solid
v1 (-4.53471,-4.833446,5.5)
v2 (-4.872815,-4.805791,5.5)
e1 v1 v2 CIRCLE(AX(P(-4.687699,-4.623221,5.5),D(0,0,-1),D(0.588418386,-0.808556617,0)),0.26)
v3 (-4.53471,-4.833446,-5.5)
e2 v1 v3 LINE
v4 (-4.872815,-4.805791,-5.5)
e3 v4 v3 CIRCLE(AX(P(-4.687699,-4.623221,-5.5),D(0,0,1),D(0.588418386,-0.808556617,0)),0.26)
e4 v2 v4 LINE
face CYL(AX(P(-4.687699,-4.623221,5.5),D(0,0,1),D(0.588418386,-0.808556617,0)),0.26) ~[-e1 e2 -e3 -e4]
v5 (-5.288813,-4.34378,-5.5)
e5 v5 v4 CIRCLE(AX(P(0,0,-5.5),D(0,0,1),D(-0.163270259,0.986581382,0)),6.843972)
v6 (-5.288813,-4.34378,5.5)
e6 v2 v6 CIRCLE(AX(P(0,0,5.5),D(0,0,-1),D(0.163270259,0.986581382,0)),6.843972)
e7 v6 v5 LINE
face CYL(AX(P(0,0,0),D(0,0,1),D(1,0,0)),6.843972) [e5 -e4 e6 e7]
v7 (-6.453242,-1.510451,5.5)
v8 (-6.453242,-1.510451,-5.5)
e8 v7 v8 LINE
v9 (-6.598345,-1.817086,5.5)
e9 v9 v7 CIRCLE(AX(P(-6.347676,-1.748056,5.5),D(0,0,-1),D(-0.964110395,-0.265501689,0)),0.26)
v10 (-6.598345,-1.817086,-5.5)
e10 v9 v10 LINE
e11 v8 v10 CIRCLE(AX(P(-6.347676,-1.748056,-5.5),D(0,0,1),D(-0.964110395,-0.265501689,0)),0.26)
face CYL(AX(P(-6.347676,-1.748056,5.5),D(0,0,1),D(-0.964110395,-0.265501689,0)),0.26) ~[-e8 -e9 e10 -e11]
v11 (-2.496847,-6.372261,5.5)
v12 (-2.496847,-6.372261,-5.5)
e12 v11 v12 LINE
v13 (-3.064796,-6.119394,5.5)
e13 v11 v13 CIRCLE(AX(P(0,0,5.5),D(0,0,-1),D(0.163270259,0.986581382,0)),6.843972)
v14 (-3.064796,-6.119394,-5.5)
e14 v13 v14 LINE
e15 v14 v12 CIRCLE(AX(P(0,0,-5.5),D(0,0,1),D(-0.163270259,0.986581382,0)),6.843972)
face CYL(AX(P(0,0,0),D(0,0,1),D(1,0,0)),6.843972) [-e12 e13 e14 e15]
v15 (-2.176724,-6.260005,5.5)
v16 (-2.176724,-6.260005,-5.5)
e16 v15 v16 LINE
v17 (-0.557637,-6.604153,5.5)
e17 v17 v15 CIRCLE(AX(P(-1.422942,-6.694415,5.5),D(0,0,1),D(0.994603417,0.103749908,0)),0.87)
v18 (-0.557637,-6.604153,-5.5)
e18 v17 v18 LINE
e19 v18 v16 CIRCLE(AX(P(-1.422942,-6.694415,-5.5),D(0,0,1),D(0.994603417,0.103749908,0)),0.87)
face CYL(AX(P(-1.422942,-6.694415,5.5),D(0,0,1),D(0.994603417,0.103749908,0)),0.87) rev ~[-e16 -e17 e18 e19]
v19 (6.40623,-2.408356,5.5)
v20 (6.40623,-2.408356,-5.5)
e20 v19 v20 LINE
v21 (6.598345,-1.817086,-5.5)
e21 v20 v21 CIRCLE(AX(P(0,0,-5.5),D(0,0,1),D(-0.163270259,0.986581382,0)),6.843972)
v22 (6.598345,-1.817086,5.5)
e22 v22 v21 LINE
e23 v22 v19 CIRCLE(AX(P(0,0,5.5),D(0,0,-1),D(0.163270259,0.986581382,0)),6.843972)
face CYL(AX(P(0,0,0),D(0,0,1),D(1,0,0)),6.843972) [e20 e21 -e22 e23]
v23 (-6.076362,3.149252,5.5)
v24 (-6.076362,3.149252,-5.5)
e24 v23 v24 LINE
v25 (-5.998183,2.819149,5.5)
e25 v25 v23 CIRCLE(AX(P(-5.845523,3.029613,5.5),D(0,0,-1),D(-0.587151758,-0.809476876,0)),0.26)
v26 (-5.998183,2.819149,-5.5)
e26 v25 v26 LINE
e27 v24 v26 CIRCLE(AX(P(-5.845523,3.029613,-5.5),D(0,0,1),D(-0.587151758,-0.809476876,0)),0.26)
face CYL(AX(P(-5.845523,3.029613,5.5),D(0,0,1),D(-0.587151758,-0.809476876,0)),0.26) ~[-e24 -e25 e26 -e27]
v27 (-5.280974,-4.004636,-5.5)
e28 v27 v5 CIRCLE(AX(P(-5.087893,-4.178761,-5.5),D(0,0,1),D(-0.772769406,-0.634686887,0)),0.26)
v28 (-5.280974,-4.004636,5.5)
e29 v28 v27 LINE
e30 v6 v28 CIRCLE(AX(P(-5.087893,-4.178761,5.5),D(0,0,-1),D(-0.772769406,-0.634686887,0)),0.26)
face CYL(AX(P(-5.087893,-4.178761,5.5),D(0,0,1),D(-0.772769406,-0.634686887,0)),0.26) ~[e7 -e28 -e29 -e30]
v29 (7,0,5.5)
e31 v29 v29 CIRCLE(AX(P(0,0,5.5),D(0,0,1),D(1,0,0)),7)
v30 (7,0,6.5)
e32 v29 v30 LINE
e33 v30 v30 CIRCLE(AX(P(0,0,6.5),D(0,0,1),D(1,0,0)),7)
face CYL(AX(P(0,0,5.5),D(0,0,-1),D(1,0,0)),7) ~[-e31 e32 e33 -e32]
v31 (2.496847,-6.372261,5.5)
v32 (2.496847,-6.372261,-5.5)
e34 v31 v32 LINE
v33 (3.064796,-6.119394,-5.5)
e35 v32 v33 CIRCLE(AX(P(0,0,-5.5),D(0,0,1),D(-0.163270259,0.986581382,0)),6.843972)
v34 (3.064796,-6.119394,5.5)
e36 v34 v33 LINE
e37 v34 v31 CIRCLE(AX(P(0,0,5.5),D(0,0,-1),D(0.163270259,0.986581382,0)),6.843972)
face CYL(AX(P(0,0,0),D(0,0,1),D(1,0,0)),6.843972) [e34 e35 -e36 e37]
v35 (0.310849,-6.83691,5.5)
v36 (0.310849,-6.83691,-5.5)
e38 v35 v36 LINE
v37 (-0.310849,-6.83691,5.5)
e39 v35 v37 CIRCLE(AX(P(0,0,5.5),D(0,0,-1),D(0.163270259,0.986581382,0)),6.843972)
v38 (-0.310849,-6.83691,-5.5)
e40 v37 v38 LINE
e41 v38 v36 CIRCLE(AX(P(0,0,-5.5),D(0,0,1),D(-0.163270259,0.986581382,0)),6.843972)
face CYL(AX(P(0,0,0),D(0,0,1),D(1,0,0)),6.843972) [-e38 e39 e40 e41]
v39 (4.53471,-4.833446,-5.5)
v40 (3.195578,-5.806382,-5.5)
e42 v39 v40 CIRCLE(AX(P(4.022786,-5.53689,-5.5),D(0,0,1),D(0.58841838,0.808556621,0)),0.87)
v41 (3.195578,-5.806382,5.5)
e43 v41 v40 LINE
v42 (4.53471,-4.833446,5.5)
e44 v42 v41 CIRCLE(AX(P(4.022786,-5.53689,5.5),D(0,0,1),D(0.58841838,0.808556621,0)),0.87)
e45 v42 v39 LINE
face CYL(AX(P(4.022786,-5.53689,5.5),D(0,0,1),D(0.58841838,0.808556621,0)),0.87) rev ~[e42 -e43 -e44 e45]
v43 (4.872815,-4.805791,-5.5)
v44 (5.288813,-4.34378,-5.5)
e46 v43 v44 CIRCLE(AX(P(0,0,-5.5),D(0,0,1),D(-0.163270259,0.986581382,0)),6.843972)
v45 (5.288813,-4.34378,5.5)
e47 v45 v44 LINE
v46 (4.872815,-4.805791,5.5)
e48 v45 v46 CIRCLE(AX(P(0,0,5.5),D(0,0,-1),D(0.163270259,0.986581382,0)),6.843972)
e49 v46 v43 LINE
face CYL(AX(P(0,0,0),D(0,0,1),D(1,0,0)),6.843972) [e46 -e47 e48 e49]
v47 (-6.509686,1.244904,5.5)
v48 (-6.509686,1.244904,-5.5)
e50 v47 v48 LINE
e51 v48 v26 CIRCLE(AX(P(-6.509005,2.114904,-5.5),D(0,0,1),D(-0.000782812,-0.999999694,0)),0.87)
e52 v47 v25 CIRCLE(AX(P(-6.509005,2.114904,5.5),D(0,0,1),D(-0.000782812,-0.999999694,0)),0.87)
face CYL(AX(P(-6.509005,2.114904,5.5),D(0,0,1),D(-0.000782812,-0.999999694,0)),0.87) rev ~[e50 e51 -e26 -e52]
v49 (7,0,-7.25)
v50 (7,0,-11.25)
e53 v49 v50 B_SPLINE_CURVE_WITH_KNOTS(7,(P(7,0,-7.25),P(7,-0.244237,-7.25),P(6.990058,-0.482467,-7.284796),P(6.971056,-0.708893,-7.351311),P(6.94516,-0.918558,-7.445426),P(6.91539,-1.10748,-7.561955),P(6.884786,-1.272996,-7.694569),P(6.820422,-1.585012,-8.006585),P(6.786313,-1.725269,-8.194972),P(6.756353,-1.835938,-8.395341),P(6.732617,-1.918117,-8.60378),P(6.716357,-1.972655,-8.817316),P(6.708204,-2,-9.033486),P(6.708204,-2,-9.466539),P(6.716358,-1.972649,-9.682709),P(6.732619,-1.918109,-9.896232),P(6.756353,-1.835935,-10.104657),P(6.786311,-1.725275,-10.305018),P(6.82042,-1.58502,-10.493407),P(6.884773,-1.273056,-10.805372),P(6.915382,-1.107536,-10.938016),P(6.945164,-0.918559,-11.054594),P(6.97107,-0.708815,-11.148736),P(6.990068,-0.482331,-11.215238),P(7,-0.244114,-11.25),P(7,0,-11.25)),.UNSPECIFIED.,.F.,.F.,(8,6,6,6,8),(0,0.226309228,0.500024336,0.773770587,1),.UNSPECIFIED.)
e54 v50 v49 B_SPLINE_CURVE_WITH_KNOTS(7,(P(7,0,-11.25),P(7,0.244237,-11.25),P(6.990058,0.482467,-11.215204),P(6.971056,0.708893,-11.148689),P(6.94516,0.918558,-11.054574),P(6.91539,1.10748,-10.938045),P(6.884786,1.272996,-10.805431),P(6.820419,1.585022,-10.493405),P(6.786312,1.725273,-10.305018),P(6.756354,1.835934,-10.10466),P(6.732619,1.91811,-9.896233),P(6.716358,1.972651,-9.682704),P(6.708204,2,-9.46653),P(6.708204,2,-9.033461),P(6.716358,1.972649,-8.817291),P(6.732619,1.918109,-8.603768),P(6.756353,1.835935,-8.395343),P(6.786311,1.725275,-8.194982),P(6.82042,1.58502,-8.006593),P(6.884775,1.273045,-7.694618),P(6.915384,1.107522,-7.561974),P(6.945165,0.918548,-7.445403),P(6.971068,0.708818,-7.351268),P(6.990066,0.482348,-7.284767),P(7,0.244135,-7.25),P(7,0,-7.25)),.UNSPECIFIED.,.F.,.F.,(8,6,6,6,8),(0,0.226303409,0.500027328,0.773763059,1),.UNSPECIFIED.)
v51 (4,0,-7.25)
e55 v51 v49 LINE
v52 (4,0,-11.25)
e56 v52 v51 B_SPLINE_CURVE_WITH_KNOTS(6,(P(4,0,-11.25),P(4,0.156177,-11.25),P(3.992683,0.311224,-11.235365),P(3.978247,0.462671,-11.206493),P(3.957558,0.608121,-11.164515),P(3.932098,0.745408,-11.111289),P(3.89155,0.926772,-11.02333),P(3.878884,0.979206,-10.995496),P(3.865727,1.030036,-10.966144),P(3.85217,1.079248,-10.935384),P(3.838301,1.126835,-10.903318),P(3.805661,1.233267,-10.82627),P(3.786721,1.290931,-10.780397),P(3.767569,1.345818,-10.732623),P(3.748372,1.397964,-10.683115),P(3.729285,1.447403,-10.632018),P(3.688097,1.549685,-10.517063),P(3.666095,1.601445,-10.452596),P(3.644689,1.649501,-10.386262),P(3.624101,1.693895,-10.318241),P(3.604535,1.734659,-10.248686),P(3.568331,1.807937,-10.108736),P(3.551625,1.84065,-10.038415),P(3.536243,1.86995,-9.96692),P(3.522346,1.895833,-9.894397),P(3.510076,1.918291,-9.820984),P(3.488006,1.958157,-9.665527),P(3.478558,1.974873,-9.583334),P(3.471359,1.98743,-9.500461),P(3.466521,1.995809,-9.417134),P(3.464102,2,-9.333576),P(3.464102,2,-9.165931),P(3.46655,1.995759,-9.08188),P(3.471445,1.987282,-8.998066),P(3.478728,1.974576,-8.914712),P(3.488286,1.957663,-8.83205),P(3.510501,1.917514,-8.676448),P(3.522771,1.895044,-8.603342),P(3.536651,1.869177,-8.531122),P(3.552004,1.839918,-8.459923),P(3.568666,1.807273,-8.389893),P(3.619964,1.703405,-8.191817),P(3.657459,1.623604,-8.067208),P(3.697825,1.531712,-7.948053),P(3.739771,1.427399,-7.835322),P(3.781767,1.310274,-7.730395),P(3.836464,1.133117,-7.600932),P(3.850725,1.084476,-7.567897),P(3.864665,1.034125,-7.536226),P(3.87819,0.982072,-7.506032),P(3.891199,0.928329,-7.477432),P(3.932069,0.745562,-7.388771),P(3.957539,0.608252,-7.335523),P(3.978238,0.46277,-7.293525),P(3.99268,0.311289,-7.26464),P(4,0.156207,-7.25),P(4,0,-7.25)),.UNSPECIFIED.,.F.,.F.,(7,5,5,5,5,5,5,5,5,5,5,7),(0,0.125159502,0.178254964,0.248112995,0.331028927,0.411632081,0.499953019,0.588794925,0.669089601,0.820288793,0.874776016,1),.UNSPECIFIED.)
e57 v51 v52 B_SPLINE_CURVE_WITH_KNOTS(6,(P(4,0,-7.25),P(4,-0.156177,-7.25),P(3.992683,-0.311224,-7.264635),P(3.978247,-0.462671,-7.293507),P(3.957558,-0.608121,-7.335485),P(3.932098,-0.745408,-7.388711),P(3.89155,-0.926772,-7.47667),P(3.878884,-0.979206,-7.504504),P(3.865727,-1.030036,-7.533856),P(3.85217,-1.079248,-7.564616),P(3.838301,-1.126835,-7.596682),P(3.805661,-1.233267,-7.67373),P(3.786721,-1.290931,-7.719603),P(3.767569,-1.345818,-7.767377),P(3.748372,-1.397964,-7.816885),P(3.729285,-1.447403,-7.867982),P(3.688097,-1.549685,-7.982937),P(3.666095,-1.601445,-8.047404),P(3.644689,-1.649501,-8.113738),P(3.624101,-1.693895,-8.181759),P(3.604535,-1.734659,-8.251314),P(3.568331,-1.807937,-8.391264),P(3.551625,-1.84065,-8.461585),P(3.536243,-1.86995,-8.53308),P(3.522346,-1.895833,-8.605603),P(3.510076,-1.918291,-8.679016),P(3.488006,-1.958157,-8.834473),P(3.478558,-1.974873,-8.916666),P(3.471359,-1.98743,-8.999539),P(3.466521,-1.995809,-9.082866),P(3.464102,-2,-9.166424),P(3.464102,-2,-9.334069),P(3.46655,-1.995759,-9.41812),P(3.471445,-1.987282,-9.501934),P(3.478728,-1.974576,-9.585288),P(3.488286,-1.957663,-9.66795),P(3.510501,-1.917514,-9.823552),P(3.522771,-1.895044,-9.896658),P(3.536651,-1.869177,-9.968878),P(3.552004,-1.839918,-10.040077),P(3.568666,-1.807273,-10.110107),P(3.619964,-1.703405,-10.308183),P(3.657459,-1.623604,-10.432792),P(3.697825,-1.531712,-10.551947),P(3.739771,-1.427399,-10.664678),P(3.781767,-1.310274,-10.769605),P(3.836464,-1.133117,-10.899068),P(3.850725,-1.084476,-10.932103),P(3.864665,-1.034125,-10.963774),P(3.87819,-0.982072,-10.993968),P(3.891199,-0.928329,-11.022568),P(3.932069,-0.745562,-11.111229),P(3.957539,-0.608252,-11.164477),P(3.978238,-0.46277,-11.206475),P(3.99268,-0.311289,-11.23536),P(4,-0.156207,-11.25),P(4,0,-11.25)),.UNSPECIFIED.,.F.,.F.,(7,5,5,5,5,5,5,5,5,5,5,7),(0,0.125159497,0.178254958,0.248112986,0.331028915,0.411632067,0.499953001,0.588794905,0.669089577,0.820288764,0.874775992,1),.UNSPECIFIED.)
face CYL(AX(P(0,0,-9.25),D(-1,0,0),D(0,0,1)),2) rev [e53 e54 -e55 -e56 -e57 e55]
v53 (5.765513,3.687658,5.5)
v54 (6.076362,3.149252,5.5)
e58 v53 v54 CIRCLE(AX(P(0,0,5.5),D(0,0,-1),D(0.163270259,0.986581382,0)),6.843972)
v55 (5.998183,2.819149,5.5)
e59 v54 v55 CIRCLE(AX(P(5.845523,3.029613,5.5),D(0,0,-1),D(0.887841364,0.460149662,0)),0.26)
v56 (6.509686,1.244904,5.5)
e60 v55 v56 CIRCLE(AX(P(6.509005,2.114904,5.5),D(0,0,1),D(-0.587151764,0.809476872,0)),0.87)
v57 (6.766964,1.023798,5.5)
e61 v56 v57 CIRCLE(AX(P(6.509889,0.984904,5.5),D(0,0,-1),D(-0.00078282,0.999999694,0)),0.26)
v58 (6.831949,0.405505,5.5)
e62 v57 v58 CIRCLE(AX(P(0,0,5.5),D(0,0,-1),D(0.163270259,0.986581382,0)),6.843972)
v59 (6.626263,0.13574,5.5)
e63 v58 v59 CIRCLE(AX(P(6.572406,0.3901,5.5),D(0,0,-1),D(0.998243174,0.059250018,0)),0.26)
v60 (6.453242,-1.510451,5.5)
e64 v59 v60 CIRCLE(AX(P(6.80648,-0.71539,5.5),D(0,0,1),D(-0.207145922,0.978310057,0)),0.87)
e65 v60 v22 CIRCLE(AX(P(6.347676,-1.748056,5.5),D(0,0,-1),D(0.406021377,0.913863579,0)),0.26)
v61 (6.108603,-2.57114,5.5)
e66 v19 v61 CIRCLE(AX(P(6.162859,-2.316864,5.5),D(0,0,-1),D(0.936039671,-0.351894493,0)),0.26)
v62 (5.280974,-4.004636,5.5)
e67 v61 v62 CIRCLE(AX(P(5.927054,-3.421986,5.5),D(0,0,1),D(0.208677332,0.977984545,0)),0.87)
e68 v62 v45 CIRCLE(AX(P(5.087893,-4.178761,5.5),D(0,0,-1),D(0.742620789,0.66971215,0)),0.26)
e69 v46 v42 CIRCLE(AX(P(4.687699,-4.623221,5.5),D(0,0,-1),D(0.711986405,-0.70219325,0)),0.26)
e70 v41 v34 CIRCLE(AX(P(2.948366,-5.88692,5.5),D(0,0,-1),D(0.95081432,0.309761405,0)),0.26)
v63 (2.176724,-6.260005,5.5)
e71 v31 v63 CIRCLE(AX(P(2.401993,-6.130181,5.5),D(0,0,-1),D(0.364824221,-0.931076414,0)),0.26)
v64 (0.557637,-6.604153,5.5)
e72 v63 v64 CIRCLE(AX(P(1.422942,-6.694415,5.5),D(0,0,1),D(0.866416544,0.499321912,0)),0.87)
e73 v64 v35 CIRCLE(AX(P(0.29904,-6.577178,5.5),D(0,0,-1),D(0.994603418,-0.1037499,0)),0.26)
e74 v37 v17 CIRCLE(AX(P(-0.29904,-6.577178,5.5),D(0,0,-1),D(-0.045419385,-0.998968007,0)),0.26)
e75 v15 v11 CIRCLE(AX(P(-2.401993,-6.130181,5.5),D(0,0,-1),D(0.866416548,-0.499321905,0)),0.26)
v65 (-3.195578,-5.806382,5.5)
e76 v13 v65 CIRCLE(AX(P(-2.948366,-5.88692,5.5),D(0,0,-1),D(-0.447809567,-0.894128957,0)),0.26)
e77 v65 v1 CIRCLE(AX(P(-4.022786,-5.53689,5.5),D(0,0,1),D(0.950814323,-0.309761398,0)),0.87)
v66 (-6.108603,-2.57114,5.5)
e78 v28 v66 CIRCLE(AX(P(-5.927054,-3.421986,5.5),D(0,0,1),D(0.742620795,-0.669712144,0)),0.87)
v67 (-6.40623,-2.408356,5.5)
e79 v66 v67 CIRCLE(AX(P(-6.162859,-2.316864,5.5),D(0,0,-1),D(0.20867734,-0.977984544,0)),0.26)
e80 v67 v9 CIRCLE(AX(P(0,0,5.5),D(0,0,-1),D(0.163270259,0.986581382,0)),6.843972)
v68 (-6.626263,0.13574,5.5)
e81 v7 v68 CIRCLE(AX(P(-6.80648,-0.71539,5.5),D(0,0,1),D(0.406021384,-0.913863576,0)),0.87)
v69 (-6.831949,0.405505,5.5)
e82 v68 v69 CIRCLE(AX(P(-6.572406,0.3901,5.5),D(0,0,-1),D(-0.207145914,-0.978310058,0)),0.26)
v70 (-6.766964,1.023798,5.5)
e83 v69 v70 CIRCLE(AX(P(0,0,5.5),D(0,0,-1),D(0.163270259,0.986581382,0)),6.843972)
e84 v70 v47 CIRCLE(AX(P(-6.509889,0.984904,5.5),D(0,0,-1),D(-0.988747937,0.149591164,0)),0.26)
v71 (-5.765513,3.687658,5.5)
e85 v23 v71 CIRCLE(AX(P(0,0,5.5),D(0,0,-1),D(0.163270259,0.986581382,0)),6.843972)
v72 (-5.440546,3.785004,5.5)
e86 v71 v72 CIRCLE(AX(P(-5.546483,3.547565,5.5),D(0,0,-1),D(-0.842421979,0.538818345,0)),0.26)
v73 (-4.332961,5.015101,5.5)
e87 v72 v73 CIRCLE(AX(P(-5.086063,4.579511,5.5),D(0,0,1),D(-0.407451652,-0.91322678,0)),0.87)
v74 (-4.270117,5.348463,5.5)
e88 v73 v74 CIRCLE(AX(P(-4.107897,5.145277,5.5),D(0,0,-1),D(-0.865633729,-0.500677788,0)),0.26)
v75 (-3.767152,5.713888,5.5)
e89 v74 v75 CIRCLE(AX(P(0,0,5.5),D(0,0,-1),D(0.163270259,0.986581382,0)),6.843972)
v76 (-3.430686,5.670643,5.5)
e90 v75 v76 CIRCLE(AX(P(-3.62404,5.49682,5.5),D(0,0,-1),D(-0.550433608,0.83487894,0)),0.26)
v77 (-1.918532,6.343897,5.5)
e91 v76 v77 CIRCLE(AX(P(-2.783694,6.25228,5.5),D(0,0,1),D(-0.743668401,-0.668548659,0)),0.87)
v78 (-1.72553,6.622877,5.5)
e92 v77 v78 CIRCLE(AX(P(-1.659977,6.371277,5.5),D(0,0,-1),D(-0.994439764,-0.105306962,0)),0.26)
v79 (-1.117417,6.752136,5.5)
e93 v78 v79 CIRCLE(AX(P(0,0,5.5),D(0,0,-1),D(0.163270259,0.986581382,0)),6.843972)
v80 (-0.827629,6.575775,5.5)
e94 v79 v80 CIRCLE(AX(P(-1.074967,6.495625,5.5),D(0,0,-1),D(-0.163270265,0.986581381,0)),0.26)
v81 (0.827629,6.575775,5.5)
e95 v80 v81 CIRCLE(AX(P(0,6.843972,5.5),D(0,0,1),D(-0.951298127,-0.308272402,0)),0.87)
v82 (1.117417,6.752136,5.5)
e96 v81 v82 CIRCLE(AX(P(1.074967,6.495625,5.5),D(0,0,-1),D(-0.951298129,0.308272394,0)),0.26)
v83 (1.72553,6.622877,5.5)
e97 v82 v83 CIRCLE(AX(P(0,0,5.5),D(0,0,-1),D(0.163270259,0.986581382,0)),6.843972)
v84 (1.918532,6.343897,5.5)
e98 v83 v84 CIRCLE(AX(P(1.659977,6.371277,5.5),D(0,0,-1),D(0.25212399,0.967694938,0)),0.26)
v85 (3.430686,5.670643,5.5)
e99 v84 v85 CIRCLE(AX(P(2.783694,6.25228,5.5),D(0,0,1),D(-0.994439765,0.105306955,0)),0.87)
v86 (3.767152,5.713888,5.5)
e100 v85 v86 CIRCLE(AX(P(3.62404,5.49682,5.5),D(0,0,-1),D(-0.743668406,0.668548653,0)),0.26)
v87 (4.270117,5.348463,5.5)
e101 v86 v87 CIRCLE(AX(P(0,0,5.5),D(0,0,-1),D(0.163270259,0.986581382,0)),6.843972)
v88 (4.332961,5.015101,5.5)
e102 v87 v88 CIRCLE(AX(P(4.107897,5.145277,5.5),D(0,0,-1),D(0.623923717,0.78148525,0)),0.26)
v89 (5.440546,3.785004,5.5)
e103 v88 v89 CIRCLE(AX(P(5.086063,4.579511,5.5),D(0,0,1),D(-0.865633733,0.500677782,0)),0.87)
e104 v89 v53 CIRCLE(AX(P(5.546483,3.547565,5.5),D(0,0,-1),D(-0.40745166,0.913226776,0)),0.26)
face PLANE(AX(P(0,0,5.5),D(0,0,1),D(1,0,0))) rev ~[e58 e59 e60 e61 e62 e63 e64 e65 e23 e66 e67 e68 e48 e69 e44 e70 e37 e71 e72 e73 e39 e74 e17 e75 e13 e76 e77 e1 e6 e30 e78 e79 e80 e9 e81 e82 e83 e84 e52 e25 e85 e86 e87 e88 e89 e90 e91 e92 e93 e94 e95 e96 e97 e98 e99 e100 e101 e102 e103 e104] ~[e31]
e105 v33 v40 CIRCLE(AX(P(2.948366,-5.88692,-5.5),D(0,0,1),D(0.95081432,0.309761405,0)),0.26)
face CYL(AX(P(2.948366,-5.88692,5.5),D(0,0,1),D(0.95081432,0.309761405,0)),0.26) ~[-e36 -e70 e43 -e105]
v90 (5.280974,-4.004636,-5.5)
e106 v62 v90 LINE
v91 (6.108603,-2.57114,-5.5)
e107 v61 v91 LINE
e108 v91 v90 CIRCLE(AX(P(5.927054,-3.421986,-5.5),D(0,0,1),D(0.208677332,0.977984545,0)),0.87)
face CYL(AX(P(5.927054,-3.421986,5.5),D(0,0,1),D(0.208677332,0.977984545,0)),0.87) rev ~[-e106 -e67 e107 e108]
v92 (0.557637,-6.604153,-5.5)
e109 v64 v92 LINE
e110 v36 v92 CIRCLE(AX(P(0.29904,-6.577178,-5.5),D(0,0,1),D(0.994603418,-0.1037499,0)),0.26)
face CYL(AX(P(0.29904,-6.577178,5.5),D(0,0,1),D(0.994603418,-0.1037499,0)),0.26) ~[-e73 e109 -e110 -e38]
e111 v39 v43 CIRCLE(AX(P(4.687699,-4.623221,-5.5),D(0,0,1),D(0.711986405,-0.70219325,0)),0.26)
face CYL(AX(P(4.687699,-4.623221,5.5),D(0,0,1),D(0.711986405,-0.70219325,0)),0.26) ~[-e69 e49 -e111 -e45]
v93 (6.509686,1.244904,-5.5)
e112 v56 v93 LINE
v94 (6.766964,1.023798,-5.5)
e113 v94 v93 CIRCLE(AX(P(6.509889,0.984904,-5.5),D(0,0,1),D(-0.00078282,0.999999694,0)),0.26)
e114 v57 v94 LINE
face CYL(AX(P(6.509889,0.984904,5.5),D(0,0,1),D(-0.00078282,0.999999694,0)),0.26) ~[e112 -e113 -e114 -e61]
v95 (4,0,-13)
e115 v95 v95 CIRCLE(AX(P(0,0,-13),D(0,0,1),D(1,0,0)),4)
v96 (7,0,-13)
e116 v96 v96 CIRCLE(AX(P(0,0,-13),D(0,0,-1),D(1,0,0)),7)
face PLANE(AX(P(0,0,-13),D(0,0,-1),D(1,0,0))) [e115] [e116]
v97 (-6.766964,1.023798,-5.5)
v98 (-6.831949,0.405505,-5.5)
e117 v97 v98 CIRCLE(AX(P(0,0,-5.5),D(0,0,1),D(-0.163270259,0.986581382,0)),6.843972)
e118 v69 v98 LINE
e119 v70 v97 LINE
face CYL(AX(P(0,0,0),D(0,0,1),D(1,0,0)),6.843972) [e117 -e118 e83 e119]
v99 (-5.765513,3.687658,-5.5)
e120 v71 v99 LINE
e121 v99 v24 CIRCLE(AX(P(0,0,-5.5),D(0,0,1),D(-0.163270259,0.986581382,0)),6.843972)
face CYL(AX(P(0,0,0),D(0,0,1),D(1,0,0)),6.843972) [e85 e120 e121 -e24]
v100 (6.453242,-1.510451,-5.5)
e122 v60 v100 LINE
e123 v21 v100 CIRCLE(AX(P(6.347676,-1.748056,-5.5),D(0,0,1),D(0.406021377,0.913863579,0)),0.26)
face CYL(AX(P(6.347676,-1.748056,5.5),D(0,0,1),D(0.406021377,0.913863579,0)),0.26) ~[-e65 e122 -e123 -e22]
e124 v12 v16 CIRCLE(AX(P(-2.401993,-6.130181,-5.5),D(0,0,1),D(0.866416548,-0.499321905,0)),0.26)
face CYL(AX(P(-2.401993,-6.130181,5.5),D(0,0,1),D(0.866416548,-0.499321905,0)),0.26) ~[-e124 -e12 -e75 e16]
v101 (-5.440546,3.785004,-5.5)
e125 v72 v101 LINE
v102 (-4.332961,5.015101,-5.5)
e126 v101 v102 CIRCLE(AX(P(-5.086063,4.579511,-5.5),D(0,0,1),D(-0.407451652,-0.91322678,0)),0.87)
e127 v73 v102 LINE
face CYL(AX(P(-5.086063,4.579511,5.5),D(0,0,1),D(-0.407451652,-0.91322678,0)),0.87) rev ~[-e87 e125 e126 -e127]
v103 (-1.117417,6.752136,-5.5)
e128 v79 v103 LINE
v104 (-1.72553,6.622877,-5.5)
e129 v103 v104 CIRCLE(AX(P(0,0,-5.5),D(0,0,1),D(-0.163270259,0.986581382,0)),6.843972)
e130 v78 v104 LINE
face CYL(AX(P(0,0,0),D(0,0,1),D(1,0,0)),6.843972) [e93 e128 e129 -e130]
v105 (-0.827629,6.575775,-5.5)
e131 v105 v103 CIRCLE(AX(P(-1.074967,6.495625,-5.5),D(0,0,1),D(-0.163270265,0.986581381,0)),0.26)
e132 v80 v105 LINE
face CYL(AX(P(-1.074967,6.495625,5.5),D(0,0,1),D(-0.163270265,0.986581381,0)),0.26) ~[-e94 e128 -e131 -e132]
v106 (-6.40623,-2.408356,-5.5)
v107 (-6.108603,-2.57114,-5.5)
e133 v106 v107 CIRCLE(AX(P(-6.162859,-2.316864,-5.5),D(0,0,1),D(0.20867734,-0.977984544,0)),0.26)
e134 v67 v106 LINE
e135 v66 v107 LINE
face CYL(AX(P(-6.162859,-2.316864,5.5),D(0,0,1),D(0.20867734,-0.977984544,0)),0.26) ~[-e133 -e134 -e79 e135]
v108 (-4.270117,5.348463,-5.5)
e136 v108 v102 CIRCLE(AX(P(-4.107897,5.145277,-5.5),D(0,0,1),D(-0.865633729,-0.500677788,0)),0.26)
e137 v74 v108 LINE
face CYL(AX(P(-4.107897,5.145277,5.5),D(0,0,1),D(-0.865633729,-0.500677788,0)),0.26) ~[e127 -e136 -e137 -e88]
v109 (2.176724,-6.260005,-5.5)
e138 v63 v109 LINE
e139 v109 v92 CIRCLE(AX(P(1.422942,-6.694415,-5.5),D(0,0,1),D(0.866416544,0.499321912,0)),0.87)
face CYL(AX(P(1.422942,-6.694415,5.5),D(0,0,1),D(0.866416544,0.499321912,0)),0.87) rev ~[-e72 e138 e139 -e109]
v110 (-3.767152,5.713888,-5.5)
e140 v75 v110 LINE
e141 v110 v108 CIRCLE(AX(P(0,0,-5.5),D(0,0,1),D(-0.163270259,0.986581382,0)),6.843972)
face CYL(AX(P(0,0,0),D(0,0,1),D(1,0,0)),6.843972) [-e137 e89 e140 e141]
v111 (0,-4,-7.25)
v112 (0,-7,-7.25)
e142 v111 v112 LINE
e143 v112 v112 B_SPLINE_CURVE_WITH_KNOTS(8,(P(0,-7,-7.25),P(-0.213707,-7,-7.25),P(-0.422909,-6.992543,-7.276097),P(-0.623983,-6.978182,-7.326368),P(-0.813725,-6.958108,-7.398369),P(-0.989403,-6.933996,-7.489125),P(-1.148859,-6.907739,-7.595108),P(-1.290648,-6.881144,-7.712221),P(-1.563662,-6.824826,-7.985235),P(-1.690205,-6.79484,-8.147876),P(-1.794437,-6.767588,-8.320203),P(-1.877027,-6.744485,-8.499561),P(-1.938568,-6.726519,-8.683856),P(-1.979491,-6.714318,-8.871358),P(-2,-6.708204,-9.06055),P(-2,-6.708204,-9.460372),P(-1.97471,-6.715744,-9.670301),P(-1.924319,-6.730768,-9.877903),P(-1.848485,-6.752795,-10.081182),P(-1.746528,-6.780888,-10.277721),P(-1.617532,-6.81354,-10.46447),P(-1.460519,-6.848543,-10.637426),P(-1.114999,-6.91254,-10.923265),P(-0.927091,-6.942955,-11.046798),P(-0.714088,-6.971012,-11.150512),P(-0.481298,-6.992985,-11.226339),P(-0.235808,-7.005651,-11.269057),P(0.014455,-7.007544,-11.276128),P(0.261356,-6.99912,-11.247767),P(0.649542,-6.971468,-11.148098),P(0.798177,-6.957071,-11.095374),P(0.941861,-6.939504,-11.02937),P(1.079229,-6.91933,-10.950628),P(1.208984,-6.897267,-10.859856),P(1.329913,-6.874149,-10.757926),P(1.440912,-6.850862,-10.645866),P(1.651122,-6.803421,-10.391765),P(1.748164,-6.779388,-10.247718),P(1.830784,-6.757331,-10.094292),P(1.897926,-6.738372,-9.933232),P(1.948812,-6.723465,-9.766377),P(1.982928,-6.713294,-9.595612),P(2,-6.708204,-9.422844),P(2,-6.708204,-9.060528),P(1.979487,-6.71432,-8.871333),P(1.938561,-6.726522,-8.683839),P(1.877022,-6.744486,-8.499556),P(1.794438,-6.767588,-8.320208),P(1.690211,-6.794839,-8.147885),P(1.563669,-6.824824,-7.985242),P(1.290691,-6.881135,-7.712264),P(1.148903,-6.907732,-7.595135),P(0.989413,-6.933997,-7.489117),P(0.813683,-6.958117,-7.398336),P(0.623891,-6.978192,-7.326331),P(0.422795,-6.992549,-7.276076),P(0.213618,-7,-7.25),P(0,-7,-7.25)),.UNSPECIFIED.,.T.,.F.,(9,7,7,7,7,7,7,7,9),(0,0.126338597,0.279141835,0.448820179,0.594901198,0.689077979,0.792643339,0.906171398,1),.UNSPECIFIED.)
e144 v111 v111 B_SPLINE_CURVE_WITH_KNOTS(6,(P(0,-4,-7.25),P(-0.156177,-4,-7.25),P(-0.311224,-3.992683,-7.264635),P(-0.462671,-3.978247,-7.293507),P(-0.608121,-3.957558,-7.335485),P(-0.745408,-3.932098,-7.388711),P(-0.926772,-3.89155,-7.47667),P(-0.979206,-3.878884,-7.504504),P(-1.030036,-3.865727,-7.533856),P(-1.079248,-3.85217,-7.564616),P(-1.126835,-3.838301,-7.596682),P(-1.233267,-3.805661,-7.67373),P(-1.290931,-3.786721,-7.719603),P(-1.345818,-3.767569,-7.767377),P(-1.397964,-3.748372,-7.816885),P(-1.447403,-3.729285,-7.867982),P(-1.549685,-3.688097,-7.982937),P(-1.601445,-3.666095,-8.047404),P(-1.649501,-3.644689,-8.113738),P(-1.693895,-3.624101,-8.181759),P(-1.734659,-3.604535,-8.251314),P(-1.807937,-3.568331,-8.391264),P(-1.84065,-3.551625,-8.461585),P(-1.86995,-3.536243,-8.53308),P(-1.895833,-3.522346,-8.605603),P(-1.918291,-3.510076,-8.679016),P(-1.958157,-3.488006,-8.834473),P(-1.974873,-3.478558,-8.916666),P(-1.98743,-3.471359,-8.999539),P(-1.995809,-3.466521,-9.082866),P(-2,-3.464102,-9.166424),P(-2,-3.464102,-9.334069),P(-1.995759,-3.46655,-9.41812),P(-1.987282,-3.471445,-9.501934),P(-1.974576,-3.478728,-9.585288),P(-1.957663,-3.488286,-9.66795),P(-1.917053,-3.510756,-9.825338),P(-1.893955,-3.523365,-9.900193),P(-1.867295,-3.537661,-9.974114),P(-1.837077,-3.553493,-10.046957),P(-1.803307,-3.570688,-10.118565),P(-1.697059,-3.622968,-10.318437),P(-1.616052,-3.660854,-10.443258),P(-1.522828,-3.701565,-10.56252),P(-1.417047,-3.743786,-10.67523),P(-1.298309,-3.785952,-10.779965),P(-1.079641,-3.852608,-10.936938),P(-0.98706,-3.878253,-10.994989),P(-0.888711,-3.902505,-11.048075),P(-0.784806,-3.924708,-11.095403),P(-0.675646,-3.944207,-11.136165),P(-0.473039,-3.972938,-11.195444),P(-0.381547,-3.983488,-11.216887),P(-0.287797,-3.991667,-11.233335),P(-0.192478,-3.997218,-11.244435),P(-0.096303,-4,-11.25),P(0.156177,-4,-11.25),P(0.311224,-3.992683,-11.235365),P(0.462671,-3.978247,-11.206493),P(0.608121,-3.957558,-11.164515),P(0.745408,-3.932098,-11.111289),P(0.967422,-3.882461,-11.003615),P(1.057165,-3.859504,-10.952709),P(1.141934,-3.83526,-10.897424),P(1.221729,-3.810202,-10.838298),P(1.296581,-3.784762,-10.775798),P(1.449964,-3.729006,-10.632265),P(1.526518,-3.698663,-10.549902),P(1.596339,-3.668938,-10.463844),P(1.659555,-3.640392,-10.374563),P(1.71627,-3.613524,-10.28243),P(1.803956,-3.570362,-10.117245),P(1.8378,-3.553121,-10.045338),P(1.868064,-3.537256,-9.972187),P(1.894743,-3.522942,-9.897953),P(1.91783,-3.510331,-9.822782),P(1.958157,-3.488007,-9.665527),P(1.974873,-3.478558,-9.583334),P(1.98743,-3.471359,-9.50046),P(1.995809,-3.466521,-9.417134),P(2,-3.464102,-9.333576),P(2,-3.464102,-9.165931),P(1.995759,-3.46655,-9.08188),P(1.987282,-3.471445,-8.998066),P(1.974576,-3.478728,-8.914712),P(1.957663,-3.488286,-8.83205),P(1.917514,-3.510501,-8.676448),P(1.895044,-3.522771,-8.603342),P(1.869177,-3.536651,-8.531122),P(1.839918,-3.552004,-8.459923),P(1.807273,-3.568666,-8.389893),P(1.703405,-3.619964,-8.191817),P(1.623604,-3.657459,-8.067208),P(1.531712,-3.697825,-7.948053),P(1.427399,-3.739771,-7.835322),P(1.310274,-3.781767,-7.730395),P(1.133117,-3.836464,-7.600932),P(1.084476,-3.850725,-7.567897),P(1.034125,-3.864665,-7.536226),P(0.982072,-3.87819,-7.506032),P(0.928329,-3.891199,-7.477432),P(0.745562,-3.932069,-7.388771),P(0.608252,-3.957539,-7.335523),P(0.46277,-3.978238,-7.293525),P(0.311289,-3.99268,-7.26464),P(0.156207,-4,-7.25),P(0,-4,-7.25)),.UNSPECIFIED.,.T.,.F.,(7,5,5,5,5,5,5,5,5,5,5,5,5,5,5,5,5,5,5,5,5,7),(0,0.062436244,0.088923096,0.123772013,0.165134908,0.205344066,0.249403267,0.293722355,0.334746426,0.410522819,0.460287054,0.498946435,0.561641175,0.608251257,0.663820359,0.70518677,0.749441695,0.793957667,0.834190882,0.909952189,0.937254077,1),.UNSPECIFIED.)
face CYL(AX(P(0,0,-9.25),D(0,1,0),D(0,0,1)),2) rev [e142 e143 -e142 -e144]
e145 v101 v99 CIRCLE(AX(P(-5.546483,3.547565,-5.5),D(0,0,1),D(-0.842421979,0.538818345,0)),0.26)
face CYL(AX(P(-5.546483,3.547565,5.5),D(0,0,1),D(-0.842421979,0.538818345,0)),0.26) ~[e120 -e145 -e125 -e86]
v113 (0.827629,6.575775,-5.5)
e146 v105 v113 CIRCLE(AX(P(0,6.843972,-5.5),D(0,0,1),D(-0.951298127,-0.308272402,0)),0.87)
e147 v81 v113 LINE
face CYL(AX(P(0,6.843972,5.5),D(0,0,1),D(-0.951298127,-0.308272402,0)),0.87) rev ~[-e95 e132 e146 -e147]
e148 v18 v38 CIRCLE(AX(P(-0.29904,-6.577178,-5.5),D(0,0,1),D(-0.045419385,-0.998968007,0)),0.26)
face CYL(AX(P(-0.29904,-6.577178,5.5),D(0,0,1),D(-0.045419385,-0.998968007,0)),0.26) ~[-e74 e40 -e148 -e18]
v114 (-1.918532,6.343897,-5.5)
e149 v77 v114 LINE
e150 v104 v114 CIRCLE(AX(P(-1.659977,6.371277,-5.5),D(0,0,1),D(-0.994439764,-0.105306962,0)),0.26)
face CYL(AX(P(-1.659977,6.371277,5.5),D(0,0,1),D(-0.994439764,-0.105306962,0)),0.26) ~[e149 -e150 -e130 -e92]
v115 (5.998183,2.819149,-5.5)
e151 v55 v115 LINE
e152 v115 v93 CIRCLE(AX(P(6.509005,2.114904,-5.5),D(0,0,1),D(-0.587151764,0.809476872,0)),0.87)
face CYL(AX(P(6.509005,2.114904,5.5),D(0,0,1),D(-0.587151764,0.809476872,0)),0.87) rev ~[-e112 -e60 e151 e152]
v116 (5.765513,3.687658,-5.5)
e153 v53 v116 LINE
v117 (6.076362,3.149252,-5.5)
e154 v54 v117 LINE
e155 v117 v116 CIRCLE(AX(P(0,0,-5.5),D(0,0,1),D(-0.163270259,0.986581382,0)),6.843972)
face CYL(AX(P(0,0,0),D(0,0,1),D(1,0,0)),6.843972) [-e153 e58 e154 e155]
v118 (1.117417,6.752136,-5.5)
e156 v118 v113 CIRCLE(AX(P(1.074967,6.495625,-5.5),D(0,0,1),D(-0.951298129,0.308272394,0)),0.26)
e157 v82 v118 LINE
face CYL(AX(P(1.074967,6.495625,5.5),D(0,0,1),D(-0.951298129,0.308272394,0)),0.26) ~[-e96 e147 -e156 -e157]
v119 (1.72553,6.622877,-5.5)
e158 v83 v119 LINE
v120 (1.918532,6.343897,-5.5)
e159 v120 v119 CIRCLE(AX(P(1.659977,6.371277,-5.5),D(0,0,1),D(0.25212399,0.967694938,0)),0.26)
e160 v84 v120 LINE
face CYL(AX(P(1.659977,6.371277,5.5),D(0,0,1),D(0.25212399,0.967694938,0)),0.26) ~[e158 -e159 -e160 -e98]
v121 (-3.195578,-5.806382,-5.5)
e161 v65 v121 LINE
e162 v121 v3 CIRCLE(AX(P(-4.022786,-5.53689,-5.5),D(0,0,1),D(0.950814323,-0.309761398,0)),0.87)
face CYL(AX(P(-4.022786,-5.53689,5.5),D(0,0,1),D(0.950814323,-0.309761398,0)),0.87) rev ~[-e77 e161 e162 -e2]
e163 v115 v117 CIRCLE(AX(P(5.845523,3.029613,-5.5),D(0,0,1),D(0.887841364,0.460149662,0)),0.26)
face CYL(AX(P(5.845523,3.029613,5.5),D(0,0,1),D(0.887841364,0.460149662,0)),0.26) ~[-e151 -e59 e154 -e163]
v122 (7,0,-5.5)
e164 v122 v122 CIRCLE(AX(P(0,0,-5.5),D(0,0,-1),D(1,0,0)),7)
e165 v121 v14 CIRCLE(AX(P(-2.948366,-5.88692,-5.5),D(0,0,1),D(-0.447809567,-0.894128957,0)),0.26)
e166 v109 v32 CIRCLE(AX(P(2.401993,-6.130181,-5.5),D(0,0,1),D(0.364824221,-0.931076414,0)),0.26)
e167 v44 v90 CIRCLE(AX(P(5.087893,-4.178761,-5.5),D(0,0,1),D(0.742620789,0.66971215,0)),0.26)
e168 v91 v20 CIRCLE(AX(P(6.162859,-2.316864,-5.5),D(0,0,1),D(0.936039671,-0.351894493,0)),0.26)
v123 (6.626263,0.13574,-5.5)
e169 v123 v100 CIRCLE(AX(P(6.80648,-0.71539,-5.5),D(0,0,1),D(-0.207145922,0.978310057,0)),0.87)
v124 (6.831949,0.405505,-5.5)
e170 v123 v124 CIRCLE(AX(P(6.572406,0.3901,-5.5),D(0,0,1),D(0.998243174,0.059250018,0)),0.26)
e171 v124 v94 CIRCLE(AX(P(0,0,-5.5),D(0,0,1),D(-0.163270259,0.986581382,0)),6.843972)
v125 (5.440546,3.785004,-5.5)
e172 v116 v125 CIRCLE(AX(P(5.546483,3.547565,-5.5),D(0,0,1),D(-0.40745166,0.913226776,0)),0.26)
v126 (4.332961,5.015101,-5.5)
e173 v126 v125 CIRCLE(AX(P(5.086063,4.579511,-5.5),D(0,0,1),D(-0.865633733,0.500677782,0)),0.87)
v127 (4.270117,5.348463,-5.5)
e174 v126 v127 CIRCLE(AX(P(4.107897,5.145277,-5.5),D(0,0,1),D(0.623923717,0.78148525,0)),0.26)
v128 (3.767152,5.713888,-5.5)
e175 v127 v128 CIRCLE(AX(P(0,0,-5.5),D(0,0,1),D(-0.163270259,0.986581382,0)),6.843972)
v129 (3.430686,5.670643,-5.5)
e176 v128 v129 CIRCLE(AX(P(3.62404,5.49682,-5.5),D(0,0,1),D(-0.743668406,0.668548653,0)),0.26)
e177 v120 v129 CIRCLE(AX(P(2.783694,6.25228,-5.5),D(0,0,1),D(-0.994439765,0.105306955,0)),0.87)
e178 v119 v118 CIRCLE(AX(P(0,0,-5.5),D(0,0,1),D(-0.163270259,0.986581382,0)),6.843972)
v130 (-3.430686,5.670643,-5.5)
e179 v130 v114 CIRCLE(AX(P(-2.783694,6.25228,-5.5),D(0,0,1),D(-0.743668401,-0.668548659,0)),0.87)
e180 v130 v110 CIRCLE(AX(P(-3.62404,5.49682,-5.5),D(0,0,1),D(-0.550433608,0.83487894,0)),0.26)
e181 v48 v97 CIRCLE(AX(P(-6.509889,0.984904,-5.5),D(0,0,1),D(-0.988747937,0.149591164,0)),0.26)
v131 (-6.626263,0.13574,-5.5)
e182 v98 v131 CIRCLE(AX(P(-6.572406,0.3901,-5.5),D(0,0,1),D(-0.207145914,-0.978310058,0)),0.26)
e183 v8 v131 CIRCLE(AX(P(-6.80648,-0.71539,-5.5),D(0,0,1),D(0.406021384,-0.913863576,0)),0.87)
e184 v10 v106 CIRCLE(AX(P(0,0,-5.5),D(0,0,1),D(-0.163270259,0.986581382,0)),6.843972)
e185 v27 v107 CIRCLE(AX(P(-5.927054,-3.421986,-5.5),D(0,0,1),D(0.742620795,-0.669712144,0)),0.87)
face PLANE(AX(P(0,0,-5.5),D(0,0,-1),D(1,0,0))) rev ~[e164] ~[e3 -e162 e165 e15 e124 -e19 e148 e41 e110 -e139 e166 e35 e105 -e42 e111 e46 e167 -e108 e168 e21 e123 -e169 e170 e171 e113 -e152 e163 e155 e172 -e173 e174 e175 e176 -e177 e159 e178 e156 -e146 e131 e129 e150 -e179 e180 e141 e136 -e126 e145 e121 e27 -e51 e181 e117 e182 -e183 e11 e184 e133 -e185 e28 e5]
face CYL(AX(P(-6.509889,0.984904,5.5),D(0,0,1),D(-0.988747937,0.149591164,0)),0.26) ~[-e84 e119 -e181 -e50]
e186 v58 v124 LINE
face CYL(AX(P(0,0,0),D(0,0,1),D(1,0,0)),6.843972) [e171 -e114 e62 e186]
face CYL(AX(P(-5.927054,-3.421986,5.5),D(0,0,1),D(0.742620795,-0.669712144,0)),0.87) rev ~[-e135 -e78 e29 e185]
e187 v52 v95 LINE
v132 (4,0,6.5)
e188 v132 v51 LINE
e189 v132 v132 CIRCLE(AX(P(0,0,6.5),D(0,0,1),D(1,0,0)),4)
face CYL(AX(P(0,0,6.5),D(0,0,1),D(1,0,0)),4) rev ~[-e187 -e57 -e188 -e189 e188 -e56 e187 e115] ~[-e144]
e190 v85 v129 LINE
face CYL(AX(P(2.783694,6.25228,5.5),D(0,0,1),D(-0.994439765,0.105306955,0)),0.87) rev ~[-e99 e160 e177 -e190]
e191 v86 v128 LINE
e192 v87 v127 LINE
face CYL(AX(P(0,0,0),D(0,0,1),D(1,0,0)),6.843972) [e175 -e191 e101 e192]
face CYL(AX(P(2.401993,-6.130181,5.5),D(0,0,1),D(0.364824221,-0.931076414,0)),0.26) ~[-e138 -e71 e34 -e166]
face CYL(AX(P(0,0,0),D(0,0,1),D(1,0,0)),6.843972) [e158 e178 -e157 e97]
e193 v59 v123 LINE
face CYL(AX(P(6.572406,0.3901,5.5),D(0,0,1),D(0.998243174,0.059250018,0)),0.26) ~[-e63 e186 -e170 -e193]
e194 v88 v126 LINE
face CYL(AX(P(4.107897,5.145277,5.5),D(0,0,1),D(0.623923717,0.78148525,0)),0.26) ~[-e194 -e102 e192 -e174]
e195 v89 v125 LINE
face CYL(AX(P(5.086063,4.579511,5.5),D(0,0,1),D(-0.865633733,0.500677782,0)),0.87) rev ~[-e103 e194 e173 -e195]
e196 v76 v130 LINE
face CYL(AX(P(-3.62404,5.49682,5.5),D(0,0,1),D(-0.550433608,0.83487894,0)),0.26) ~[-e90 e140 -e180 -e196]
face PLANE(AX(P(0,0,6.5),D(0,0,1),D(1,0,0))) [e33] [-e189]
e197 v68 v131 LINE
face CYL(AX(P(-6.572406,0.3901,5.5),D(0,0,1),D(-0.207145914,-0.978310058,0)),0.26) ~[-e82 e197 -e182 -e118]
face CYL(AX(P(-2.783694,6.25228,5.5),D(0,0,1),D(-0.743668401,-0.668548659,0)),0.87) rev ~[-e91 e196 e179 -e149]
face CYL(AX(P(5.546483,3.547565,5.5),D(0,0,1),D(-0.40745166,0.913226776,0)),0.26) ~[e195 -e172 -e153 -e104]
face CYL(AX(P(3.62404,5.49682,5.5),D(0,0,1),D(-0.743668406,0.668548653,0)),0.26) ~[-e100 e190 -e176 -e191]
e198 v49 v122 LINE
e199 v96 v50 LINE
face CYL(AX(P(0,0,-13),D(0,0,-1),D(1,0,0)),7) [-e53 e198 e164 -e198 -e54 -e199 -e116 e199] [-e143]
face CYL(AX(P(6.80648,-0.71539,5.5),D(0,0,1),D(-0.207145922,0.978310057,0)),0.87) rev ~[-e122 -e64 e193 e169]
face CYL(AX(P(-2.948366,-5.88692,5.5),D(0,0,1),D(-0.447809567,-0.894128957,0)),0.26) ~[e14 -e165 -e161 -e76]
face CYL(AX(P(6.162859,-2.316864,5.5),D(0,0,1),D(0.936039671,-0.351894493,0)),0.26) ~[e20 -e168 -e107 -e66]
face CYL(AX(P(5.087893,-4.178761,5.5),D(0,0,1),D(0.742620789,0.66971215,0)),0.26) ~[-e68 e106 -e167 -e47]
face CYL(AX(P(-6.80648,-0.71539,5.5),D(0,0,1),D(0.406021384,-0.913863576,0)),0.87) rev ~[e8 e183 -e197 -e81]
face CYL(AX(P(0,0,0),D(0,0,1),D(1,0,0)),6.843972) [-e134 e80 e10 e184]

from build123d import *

# Parameters (mm, degrees)
SKETCH1_R           = 6.843972439
BOSS_EXTRUDE1_DEPTH = 5.5
CUT_EXTRUDE1_DEPTH  = 15.65195951
CIRPATTERN1_COUNT   = 15
SKETCH3_R           = 7
BOSS_EXTRUDE2_DEPTH = 1
BOSS_EXTRUDE3_START = 7.5
SKETCH4_R           = 7
BOSS_EXTRUDE3_DEPTH = 7.5
SKETCH5_R           = 4
CUT_EXTRUDE2_DEPTH  = 22.868927729
SKETCH6_R           = 2
CUT_EXTRUDE3_DEPTH  = 17.340134638
CIRPATTERN2_COUNT   = 2
CIRPATTERN2_ANGLE   = 90


with BuildPart() as part:
    # Sketch1 → Boss-Extrude1 (new, symmetric)
    with BuildSketch(Plane.XY):
        Circle(SKETCH1_R)
    extrude(amount=BOSS_EXTRUDE1_DEPTH, both=True)

    # Sketch2 → Cut-Extrude1 (cut, through all)
    with BuildSketch(Plane.XY.offset(5.5)):
        with BuildLine():
            ThreePointArc((-1.117417151, 6.752135785), (-0.9397987, 6.71772722), (-0.827629371, 6.57577545))
            ThreePointArc((-0.827629371, 6.57577545), (0, 5.973972439), (0.827629371, 6.57577545))
            ThreePointArc((0.827629371, 6.57577545), (0.9397987, 6.71772722), (1.117417151, 6.752135785))
            ThreePointArc((1.117417151, 6.752135785), (0, 6.843972439), (-1.117417151, 6.752135785))
        make_face()
    cut_extrude1 = extrude(amount=-CUT_EXTRUDE1_DEPTH, mode=Mode.SUBTRACT)

    # CirPattern1: Cut-Extrude1 ×15 about axis
    cirpattern1_axis = Axis((0, 0, 0), (0, 0, 1))
    for i in range(1, CIRPATTERN1_COUNT):
        add(cut_extrude1.rotate(cirpattern1_axis, i * 360 / CIRPATTERN1_COUNT), mode=Mode.SUBTRACT)

    # Sketch3 → Boss-Extrude2 (add)
    with BuildSketch(Plane.XY.offset(5.5)):
        Circle(SKETCH3_R)
    extrude(amount=BOSS_EXTRUDE2_DEPTH)

    # Sketch4 → Boss-Extrude3 (add)
    with BuildSketch(Plane(origin=(0, 0, -5.5), x_dir=(-1, 0, 0), z_dir=(0, 0, -1)).offset(BOSS_EXTRUDE3_START)):
        with Locations(Location((0, 0, 0), (0, 0, 180))):
            Circle(SKETCH4_R)
    extrude(amount=-BOSS_EXTRUDE3_DEPTH)

    # Sketch5 → Cut-Extrude2 (cut, through all)
    with BuildSketch(Plane.XY.offset(6.5)):
        Circle(SKETCH5_R)
    extrude(amount=-CUT_EXTRUDE2_DEPTH, mode=Mode.SUBTRACT)

    # Sketch6 → Cut-Extrude3 (cut, through all)
    with BuildSketch(Plane(origin=(0, 0, 0), x_dir=(0, 0, -1), z_dir=(1, 0, 0))):
        with Locations(Location((9.25, 0, 0), (0, 0, 180))):
            Circle(SKETCH6_R)
    cut_extrude3 = extrude(amount=CUT_EXTRUDE3_DEPTH, mode=Mode.SUBTRACT)

    # CirPattern2: Cut-Extrude3 ×2 about axis
    cirpattern2_axis = Axis((0, 0, -13), (0, 0, -1))
    for i in range(1, CIRPATTERN2_COUNT):
        add(cut_extrude3.rotate(cirpattern2_axis, i * CIRPATTERN2_ANGLE / (CIRPATTERN2_COUNT - 1)), mode=Mode.SUBTRACT)


solid = part.part
